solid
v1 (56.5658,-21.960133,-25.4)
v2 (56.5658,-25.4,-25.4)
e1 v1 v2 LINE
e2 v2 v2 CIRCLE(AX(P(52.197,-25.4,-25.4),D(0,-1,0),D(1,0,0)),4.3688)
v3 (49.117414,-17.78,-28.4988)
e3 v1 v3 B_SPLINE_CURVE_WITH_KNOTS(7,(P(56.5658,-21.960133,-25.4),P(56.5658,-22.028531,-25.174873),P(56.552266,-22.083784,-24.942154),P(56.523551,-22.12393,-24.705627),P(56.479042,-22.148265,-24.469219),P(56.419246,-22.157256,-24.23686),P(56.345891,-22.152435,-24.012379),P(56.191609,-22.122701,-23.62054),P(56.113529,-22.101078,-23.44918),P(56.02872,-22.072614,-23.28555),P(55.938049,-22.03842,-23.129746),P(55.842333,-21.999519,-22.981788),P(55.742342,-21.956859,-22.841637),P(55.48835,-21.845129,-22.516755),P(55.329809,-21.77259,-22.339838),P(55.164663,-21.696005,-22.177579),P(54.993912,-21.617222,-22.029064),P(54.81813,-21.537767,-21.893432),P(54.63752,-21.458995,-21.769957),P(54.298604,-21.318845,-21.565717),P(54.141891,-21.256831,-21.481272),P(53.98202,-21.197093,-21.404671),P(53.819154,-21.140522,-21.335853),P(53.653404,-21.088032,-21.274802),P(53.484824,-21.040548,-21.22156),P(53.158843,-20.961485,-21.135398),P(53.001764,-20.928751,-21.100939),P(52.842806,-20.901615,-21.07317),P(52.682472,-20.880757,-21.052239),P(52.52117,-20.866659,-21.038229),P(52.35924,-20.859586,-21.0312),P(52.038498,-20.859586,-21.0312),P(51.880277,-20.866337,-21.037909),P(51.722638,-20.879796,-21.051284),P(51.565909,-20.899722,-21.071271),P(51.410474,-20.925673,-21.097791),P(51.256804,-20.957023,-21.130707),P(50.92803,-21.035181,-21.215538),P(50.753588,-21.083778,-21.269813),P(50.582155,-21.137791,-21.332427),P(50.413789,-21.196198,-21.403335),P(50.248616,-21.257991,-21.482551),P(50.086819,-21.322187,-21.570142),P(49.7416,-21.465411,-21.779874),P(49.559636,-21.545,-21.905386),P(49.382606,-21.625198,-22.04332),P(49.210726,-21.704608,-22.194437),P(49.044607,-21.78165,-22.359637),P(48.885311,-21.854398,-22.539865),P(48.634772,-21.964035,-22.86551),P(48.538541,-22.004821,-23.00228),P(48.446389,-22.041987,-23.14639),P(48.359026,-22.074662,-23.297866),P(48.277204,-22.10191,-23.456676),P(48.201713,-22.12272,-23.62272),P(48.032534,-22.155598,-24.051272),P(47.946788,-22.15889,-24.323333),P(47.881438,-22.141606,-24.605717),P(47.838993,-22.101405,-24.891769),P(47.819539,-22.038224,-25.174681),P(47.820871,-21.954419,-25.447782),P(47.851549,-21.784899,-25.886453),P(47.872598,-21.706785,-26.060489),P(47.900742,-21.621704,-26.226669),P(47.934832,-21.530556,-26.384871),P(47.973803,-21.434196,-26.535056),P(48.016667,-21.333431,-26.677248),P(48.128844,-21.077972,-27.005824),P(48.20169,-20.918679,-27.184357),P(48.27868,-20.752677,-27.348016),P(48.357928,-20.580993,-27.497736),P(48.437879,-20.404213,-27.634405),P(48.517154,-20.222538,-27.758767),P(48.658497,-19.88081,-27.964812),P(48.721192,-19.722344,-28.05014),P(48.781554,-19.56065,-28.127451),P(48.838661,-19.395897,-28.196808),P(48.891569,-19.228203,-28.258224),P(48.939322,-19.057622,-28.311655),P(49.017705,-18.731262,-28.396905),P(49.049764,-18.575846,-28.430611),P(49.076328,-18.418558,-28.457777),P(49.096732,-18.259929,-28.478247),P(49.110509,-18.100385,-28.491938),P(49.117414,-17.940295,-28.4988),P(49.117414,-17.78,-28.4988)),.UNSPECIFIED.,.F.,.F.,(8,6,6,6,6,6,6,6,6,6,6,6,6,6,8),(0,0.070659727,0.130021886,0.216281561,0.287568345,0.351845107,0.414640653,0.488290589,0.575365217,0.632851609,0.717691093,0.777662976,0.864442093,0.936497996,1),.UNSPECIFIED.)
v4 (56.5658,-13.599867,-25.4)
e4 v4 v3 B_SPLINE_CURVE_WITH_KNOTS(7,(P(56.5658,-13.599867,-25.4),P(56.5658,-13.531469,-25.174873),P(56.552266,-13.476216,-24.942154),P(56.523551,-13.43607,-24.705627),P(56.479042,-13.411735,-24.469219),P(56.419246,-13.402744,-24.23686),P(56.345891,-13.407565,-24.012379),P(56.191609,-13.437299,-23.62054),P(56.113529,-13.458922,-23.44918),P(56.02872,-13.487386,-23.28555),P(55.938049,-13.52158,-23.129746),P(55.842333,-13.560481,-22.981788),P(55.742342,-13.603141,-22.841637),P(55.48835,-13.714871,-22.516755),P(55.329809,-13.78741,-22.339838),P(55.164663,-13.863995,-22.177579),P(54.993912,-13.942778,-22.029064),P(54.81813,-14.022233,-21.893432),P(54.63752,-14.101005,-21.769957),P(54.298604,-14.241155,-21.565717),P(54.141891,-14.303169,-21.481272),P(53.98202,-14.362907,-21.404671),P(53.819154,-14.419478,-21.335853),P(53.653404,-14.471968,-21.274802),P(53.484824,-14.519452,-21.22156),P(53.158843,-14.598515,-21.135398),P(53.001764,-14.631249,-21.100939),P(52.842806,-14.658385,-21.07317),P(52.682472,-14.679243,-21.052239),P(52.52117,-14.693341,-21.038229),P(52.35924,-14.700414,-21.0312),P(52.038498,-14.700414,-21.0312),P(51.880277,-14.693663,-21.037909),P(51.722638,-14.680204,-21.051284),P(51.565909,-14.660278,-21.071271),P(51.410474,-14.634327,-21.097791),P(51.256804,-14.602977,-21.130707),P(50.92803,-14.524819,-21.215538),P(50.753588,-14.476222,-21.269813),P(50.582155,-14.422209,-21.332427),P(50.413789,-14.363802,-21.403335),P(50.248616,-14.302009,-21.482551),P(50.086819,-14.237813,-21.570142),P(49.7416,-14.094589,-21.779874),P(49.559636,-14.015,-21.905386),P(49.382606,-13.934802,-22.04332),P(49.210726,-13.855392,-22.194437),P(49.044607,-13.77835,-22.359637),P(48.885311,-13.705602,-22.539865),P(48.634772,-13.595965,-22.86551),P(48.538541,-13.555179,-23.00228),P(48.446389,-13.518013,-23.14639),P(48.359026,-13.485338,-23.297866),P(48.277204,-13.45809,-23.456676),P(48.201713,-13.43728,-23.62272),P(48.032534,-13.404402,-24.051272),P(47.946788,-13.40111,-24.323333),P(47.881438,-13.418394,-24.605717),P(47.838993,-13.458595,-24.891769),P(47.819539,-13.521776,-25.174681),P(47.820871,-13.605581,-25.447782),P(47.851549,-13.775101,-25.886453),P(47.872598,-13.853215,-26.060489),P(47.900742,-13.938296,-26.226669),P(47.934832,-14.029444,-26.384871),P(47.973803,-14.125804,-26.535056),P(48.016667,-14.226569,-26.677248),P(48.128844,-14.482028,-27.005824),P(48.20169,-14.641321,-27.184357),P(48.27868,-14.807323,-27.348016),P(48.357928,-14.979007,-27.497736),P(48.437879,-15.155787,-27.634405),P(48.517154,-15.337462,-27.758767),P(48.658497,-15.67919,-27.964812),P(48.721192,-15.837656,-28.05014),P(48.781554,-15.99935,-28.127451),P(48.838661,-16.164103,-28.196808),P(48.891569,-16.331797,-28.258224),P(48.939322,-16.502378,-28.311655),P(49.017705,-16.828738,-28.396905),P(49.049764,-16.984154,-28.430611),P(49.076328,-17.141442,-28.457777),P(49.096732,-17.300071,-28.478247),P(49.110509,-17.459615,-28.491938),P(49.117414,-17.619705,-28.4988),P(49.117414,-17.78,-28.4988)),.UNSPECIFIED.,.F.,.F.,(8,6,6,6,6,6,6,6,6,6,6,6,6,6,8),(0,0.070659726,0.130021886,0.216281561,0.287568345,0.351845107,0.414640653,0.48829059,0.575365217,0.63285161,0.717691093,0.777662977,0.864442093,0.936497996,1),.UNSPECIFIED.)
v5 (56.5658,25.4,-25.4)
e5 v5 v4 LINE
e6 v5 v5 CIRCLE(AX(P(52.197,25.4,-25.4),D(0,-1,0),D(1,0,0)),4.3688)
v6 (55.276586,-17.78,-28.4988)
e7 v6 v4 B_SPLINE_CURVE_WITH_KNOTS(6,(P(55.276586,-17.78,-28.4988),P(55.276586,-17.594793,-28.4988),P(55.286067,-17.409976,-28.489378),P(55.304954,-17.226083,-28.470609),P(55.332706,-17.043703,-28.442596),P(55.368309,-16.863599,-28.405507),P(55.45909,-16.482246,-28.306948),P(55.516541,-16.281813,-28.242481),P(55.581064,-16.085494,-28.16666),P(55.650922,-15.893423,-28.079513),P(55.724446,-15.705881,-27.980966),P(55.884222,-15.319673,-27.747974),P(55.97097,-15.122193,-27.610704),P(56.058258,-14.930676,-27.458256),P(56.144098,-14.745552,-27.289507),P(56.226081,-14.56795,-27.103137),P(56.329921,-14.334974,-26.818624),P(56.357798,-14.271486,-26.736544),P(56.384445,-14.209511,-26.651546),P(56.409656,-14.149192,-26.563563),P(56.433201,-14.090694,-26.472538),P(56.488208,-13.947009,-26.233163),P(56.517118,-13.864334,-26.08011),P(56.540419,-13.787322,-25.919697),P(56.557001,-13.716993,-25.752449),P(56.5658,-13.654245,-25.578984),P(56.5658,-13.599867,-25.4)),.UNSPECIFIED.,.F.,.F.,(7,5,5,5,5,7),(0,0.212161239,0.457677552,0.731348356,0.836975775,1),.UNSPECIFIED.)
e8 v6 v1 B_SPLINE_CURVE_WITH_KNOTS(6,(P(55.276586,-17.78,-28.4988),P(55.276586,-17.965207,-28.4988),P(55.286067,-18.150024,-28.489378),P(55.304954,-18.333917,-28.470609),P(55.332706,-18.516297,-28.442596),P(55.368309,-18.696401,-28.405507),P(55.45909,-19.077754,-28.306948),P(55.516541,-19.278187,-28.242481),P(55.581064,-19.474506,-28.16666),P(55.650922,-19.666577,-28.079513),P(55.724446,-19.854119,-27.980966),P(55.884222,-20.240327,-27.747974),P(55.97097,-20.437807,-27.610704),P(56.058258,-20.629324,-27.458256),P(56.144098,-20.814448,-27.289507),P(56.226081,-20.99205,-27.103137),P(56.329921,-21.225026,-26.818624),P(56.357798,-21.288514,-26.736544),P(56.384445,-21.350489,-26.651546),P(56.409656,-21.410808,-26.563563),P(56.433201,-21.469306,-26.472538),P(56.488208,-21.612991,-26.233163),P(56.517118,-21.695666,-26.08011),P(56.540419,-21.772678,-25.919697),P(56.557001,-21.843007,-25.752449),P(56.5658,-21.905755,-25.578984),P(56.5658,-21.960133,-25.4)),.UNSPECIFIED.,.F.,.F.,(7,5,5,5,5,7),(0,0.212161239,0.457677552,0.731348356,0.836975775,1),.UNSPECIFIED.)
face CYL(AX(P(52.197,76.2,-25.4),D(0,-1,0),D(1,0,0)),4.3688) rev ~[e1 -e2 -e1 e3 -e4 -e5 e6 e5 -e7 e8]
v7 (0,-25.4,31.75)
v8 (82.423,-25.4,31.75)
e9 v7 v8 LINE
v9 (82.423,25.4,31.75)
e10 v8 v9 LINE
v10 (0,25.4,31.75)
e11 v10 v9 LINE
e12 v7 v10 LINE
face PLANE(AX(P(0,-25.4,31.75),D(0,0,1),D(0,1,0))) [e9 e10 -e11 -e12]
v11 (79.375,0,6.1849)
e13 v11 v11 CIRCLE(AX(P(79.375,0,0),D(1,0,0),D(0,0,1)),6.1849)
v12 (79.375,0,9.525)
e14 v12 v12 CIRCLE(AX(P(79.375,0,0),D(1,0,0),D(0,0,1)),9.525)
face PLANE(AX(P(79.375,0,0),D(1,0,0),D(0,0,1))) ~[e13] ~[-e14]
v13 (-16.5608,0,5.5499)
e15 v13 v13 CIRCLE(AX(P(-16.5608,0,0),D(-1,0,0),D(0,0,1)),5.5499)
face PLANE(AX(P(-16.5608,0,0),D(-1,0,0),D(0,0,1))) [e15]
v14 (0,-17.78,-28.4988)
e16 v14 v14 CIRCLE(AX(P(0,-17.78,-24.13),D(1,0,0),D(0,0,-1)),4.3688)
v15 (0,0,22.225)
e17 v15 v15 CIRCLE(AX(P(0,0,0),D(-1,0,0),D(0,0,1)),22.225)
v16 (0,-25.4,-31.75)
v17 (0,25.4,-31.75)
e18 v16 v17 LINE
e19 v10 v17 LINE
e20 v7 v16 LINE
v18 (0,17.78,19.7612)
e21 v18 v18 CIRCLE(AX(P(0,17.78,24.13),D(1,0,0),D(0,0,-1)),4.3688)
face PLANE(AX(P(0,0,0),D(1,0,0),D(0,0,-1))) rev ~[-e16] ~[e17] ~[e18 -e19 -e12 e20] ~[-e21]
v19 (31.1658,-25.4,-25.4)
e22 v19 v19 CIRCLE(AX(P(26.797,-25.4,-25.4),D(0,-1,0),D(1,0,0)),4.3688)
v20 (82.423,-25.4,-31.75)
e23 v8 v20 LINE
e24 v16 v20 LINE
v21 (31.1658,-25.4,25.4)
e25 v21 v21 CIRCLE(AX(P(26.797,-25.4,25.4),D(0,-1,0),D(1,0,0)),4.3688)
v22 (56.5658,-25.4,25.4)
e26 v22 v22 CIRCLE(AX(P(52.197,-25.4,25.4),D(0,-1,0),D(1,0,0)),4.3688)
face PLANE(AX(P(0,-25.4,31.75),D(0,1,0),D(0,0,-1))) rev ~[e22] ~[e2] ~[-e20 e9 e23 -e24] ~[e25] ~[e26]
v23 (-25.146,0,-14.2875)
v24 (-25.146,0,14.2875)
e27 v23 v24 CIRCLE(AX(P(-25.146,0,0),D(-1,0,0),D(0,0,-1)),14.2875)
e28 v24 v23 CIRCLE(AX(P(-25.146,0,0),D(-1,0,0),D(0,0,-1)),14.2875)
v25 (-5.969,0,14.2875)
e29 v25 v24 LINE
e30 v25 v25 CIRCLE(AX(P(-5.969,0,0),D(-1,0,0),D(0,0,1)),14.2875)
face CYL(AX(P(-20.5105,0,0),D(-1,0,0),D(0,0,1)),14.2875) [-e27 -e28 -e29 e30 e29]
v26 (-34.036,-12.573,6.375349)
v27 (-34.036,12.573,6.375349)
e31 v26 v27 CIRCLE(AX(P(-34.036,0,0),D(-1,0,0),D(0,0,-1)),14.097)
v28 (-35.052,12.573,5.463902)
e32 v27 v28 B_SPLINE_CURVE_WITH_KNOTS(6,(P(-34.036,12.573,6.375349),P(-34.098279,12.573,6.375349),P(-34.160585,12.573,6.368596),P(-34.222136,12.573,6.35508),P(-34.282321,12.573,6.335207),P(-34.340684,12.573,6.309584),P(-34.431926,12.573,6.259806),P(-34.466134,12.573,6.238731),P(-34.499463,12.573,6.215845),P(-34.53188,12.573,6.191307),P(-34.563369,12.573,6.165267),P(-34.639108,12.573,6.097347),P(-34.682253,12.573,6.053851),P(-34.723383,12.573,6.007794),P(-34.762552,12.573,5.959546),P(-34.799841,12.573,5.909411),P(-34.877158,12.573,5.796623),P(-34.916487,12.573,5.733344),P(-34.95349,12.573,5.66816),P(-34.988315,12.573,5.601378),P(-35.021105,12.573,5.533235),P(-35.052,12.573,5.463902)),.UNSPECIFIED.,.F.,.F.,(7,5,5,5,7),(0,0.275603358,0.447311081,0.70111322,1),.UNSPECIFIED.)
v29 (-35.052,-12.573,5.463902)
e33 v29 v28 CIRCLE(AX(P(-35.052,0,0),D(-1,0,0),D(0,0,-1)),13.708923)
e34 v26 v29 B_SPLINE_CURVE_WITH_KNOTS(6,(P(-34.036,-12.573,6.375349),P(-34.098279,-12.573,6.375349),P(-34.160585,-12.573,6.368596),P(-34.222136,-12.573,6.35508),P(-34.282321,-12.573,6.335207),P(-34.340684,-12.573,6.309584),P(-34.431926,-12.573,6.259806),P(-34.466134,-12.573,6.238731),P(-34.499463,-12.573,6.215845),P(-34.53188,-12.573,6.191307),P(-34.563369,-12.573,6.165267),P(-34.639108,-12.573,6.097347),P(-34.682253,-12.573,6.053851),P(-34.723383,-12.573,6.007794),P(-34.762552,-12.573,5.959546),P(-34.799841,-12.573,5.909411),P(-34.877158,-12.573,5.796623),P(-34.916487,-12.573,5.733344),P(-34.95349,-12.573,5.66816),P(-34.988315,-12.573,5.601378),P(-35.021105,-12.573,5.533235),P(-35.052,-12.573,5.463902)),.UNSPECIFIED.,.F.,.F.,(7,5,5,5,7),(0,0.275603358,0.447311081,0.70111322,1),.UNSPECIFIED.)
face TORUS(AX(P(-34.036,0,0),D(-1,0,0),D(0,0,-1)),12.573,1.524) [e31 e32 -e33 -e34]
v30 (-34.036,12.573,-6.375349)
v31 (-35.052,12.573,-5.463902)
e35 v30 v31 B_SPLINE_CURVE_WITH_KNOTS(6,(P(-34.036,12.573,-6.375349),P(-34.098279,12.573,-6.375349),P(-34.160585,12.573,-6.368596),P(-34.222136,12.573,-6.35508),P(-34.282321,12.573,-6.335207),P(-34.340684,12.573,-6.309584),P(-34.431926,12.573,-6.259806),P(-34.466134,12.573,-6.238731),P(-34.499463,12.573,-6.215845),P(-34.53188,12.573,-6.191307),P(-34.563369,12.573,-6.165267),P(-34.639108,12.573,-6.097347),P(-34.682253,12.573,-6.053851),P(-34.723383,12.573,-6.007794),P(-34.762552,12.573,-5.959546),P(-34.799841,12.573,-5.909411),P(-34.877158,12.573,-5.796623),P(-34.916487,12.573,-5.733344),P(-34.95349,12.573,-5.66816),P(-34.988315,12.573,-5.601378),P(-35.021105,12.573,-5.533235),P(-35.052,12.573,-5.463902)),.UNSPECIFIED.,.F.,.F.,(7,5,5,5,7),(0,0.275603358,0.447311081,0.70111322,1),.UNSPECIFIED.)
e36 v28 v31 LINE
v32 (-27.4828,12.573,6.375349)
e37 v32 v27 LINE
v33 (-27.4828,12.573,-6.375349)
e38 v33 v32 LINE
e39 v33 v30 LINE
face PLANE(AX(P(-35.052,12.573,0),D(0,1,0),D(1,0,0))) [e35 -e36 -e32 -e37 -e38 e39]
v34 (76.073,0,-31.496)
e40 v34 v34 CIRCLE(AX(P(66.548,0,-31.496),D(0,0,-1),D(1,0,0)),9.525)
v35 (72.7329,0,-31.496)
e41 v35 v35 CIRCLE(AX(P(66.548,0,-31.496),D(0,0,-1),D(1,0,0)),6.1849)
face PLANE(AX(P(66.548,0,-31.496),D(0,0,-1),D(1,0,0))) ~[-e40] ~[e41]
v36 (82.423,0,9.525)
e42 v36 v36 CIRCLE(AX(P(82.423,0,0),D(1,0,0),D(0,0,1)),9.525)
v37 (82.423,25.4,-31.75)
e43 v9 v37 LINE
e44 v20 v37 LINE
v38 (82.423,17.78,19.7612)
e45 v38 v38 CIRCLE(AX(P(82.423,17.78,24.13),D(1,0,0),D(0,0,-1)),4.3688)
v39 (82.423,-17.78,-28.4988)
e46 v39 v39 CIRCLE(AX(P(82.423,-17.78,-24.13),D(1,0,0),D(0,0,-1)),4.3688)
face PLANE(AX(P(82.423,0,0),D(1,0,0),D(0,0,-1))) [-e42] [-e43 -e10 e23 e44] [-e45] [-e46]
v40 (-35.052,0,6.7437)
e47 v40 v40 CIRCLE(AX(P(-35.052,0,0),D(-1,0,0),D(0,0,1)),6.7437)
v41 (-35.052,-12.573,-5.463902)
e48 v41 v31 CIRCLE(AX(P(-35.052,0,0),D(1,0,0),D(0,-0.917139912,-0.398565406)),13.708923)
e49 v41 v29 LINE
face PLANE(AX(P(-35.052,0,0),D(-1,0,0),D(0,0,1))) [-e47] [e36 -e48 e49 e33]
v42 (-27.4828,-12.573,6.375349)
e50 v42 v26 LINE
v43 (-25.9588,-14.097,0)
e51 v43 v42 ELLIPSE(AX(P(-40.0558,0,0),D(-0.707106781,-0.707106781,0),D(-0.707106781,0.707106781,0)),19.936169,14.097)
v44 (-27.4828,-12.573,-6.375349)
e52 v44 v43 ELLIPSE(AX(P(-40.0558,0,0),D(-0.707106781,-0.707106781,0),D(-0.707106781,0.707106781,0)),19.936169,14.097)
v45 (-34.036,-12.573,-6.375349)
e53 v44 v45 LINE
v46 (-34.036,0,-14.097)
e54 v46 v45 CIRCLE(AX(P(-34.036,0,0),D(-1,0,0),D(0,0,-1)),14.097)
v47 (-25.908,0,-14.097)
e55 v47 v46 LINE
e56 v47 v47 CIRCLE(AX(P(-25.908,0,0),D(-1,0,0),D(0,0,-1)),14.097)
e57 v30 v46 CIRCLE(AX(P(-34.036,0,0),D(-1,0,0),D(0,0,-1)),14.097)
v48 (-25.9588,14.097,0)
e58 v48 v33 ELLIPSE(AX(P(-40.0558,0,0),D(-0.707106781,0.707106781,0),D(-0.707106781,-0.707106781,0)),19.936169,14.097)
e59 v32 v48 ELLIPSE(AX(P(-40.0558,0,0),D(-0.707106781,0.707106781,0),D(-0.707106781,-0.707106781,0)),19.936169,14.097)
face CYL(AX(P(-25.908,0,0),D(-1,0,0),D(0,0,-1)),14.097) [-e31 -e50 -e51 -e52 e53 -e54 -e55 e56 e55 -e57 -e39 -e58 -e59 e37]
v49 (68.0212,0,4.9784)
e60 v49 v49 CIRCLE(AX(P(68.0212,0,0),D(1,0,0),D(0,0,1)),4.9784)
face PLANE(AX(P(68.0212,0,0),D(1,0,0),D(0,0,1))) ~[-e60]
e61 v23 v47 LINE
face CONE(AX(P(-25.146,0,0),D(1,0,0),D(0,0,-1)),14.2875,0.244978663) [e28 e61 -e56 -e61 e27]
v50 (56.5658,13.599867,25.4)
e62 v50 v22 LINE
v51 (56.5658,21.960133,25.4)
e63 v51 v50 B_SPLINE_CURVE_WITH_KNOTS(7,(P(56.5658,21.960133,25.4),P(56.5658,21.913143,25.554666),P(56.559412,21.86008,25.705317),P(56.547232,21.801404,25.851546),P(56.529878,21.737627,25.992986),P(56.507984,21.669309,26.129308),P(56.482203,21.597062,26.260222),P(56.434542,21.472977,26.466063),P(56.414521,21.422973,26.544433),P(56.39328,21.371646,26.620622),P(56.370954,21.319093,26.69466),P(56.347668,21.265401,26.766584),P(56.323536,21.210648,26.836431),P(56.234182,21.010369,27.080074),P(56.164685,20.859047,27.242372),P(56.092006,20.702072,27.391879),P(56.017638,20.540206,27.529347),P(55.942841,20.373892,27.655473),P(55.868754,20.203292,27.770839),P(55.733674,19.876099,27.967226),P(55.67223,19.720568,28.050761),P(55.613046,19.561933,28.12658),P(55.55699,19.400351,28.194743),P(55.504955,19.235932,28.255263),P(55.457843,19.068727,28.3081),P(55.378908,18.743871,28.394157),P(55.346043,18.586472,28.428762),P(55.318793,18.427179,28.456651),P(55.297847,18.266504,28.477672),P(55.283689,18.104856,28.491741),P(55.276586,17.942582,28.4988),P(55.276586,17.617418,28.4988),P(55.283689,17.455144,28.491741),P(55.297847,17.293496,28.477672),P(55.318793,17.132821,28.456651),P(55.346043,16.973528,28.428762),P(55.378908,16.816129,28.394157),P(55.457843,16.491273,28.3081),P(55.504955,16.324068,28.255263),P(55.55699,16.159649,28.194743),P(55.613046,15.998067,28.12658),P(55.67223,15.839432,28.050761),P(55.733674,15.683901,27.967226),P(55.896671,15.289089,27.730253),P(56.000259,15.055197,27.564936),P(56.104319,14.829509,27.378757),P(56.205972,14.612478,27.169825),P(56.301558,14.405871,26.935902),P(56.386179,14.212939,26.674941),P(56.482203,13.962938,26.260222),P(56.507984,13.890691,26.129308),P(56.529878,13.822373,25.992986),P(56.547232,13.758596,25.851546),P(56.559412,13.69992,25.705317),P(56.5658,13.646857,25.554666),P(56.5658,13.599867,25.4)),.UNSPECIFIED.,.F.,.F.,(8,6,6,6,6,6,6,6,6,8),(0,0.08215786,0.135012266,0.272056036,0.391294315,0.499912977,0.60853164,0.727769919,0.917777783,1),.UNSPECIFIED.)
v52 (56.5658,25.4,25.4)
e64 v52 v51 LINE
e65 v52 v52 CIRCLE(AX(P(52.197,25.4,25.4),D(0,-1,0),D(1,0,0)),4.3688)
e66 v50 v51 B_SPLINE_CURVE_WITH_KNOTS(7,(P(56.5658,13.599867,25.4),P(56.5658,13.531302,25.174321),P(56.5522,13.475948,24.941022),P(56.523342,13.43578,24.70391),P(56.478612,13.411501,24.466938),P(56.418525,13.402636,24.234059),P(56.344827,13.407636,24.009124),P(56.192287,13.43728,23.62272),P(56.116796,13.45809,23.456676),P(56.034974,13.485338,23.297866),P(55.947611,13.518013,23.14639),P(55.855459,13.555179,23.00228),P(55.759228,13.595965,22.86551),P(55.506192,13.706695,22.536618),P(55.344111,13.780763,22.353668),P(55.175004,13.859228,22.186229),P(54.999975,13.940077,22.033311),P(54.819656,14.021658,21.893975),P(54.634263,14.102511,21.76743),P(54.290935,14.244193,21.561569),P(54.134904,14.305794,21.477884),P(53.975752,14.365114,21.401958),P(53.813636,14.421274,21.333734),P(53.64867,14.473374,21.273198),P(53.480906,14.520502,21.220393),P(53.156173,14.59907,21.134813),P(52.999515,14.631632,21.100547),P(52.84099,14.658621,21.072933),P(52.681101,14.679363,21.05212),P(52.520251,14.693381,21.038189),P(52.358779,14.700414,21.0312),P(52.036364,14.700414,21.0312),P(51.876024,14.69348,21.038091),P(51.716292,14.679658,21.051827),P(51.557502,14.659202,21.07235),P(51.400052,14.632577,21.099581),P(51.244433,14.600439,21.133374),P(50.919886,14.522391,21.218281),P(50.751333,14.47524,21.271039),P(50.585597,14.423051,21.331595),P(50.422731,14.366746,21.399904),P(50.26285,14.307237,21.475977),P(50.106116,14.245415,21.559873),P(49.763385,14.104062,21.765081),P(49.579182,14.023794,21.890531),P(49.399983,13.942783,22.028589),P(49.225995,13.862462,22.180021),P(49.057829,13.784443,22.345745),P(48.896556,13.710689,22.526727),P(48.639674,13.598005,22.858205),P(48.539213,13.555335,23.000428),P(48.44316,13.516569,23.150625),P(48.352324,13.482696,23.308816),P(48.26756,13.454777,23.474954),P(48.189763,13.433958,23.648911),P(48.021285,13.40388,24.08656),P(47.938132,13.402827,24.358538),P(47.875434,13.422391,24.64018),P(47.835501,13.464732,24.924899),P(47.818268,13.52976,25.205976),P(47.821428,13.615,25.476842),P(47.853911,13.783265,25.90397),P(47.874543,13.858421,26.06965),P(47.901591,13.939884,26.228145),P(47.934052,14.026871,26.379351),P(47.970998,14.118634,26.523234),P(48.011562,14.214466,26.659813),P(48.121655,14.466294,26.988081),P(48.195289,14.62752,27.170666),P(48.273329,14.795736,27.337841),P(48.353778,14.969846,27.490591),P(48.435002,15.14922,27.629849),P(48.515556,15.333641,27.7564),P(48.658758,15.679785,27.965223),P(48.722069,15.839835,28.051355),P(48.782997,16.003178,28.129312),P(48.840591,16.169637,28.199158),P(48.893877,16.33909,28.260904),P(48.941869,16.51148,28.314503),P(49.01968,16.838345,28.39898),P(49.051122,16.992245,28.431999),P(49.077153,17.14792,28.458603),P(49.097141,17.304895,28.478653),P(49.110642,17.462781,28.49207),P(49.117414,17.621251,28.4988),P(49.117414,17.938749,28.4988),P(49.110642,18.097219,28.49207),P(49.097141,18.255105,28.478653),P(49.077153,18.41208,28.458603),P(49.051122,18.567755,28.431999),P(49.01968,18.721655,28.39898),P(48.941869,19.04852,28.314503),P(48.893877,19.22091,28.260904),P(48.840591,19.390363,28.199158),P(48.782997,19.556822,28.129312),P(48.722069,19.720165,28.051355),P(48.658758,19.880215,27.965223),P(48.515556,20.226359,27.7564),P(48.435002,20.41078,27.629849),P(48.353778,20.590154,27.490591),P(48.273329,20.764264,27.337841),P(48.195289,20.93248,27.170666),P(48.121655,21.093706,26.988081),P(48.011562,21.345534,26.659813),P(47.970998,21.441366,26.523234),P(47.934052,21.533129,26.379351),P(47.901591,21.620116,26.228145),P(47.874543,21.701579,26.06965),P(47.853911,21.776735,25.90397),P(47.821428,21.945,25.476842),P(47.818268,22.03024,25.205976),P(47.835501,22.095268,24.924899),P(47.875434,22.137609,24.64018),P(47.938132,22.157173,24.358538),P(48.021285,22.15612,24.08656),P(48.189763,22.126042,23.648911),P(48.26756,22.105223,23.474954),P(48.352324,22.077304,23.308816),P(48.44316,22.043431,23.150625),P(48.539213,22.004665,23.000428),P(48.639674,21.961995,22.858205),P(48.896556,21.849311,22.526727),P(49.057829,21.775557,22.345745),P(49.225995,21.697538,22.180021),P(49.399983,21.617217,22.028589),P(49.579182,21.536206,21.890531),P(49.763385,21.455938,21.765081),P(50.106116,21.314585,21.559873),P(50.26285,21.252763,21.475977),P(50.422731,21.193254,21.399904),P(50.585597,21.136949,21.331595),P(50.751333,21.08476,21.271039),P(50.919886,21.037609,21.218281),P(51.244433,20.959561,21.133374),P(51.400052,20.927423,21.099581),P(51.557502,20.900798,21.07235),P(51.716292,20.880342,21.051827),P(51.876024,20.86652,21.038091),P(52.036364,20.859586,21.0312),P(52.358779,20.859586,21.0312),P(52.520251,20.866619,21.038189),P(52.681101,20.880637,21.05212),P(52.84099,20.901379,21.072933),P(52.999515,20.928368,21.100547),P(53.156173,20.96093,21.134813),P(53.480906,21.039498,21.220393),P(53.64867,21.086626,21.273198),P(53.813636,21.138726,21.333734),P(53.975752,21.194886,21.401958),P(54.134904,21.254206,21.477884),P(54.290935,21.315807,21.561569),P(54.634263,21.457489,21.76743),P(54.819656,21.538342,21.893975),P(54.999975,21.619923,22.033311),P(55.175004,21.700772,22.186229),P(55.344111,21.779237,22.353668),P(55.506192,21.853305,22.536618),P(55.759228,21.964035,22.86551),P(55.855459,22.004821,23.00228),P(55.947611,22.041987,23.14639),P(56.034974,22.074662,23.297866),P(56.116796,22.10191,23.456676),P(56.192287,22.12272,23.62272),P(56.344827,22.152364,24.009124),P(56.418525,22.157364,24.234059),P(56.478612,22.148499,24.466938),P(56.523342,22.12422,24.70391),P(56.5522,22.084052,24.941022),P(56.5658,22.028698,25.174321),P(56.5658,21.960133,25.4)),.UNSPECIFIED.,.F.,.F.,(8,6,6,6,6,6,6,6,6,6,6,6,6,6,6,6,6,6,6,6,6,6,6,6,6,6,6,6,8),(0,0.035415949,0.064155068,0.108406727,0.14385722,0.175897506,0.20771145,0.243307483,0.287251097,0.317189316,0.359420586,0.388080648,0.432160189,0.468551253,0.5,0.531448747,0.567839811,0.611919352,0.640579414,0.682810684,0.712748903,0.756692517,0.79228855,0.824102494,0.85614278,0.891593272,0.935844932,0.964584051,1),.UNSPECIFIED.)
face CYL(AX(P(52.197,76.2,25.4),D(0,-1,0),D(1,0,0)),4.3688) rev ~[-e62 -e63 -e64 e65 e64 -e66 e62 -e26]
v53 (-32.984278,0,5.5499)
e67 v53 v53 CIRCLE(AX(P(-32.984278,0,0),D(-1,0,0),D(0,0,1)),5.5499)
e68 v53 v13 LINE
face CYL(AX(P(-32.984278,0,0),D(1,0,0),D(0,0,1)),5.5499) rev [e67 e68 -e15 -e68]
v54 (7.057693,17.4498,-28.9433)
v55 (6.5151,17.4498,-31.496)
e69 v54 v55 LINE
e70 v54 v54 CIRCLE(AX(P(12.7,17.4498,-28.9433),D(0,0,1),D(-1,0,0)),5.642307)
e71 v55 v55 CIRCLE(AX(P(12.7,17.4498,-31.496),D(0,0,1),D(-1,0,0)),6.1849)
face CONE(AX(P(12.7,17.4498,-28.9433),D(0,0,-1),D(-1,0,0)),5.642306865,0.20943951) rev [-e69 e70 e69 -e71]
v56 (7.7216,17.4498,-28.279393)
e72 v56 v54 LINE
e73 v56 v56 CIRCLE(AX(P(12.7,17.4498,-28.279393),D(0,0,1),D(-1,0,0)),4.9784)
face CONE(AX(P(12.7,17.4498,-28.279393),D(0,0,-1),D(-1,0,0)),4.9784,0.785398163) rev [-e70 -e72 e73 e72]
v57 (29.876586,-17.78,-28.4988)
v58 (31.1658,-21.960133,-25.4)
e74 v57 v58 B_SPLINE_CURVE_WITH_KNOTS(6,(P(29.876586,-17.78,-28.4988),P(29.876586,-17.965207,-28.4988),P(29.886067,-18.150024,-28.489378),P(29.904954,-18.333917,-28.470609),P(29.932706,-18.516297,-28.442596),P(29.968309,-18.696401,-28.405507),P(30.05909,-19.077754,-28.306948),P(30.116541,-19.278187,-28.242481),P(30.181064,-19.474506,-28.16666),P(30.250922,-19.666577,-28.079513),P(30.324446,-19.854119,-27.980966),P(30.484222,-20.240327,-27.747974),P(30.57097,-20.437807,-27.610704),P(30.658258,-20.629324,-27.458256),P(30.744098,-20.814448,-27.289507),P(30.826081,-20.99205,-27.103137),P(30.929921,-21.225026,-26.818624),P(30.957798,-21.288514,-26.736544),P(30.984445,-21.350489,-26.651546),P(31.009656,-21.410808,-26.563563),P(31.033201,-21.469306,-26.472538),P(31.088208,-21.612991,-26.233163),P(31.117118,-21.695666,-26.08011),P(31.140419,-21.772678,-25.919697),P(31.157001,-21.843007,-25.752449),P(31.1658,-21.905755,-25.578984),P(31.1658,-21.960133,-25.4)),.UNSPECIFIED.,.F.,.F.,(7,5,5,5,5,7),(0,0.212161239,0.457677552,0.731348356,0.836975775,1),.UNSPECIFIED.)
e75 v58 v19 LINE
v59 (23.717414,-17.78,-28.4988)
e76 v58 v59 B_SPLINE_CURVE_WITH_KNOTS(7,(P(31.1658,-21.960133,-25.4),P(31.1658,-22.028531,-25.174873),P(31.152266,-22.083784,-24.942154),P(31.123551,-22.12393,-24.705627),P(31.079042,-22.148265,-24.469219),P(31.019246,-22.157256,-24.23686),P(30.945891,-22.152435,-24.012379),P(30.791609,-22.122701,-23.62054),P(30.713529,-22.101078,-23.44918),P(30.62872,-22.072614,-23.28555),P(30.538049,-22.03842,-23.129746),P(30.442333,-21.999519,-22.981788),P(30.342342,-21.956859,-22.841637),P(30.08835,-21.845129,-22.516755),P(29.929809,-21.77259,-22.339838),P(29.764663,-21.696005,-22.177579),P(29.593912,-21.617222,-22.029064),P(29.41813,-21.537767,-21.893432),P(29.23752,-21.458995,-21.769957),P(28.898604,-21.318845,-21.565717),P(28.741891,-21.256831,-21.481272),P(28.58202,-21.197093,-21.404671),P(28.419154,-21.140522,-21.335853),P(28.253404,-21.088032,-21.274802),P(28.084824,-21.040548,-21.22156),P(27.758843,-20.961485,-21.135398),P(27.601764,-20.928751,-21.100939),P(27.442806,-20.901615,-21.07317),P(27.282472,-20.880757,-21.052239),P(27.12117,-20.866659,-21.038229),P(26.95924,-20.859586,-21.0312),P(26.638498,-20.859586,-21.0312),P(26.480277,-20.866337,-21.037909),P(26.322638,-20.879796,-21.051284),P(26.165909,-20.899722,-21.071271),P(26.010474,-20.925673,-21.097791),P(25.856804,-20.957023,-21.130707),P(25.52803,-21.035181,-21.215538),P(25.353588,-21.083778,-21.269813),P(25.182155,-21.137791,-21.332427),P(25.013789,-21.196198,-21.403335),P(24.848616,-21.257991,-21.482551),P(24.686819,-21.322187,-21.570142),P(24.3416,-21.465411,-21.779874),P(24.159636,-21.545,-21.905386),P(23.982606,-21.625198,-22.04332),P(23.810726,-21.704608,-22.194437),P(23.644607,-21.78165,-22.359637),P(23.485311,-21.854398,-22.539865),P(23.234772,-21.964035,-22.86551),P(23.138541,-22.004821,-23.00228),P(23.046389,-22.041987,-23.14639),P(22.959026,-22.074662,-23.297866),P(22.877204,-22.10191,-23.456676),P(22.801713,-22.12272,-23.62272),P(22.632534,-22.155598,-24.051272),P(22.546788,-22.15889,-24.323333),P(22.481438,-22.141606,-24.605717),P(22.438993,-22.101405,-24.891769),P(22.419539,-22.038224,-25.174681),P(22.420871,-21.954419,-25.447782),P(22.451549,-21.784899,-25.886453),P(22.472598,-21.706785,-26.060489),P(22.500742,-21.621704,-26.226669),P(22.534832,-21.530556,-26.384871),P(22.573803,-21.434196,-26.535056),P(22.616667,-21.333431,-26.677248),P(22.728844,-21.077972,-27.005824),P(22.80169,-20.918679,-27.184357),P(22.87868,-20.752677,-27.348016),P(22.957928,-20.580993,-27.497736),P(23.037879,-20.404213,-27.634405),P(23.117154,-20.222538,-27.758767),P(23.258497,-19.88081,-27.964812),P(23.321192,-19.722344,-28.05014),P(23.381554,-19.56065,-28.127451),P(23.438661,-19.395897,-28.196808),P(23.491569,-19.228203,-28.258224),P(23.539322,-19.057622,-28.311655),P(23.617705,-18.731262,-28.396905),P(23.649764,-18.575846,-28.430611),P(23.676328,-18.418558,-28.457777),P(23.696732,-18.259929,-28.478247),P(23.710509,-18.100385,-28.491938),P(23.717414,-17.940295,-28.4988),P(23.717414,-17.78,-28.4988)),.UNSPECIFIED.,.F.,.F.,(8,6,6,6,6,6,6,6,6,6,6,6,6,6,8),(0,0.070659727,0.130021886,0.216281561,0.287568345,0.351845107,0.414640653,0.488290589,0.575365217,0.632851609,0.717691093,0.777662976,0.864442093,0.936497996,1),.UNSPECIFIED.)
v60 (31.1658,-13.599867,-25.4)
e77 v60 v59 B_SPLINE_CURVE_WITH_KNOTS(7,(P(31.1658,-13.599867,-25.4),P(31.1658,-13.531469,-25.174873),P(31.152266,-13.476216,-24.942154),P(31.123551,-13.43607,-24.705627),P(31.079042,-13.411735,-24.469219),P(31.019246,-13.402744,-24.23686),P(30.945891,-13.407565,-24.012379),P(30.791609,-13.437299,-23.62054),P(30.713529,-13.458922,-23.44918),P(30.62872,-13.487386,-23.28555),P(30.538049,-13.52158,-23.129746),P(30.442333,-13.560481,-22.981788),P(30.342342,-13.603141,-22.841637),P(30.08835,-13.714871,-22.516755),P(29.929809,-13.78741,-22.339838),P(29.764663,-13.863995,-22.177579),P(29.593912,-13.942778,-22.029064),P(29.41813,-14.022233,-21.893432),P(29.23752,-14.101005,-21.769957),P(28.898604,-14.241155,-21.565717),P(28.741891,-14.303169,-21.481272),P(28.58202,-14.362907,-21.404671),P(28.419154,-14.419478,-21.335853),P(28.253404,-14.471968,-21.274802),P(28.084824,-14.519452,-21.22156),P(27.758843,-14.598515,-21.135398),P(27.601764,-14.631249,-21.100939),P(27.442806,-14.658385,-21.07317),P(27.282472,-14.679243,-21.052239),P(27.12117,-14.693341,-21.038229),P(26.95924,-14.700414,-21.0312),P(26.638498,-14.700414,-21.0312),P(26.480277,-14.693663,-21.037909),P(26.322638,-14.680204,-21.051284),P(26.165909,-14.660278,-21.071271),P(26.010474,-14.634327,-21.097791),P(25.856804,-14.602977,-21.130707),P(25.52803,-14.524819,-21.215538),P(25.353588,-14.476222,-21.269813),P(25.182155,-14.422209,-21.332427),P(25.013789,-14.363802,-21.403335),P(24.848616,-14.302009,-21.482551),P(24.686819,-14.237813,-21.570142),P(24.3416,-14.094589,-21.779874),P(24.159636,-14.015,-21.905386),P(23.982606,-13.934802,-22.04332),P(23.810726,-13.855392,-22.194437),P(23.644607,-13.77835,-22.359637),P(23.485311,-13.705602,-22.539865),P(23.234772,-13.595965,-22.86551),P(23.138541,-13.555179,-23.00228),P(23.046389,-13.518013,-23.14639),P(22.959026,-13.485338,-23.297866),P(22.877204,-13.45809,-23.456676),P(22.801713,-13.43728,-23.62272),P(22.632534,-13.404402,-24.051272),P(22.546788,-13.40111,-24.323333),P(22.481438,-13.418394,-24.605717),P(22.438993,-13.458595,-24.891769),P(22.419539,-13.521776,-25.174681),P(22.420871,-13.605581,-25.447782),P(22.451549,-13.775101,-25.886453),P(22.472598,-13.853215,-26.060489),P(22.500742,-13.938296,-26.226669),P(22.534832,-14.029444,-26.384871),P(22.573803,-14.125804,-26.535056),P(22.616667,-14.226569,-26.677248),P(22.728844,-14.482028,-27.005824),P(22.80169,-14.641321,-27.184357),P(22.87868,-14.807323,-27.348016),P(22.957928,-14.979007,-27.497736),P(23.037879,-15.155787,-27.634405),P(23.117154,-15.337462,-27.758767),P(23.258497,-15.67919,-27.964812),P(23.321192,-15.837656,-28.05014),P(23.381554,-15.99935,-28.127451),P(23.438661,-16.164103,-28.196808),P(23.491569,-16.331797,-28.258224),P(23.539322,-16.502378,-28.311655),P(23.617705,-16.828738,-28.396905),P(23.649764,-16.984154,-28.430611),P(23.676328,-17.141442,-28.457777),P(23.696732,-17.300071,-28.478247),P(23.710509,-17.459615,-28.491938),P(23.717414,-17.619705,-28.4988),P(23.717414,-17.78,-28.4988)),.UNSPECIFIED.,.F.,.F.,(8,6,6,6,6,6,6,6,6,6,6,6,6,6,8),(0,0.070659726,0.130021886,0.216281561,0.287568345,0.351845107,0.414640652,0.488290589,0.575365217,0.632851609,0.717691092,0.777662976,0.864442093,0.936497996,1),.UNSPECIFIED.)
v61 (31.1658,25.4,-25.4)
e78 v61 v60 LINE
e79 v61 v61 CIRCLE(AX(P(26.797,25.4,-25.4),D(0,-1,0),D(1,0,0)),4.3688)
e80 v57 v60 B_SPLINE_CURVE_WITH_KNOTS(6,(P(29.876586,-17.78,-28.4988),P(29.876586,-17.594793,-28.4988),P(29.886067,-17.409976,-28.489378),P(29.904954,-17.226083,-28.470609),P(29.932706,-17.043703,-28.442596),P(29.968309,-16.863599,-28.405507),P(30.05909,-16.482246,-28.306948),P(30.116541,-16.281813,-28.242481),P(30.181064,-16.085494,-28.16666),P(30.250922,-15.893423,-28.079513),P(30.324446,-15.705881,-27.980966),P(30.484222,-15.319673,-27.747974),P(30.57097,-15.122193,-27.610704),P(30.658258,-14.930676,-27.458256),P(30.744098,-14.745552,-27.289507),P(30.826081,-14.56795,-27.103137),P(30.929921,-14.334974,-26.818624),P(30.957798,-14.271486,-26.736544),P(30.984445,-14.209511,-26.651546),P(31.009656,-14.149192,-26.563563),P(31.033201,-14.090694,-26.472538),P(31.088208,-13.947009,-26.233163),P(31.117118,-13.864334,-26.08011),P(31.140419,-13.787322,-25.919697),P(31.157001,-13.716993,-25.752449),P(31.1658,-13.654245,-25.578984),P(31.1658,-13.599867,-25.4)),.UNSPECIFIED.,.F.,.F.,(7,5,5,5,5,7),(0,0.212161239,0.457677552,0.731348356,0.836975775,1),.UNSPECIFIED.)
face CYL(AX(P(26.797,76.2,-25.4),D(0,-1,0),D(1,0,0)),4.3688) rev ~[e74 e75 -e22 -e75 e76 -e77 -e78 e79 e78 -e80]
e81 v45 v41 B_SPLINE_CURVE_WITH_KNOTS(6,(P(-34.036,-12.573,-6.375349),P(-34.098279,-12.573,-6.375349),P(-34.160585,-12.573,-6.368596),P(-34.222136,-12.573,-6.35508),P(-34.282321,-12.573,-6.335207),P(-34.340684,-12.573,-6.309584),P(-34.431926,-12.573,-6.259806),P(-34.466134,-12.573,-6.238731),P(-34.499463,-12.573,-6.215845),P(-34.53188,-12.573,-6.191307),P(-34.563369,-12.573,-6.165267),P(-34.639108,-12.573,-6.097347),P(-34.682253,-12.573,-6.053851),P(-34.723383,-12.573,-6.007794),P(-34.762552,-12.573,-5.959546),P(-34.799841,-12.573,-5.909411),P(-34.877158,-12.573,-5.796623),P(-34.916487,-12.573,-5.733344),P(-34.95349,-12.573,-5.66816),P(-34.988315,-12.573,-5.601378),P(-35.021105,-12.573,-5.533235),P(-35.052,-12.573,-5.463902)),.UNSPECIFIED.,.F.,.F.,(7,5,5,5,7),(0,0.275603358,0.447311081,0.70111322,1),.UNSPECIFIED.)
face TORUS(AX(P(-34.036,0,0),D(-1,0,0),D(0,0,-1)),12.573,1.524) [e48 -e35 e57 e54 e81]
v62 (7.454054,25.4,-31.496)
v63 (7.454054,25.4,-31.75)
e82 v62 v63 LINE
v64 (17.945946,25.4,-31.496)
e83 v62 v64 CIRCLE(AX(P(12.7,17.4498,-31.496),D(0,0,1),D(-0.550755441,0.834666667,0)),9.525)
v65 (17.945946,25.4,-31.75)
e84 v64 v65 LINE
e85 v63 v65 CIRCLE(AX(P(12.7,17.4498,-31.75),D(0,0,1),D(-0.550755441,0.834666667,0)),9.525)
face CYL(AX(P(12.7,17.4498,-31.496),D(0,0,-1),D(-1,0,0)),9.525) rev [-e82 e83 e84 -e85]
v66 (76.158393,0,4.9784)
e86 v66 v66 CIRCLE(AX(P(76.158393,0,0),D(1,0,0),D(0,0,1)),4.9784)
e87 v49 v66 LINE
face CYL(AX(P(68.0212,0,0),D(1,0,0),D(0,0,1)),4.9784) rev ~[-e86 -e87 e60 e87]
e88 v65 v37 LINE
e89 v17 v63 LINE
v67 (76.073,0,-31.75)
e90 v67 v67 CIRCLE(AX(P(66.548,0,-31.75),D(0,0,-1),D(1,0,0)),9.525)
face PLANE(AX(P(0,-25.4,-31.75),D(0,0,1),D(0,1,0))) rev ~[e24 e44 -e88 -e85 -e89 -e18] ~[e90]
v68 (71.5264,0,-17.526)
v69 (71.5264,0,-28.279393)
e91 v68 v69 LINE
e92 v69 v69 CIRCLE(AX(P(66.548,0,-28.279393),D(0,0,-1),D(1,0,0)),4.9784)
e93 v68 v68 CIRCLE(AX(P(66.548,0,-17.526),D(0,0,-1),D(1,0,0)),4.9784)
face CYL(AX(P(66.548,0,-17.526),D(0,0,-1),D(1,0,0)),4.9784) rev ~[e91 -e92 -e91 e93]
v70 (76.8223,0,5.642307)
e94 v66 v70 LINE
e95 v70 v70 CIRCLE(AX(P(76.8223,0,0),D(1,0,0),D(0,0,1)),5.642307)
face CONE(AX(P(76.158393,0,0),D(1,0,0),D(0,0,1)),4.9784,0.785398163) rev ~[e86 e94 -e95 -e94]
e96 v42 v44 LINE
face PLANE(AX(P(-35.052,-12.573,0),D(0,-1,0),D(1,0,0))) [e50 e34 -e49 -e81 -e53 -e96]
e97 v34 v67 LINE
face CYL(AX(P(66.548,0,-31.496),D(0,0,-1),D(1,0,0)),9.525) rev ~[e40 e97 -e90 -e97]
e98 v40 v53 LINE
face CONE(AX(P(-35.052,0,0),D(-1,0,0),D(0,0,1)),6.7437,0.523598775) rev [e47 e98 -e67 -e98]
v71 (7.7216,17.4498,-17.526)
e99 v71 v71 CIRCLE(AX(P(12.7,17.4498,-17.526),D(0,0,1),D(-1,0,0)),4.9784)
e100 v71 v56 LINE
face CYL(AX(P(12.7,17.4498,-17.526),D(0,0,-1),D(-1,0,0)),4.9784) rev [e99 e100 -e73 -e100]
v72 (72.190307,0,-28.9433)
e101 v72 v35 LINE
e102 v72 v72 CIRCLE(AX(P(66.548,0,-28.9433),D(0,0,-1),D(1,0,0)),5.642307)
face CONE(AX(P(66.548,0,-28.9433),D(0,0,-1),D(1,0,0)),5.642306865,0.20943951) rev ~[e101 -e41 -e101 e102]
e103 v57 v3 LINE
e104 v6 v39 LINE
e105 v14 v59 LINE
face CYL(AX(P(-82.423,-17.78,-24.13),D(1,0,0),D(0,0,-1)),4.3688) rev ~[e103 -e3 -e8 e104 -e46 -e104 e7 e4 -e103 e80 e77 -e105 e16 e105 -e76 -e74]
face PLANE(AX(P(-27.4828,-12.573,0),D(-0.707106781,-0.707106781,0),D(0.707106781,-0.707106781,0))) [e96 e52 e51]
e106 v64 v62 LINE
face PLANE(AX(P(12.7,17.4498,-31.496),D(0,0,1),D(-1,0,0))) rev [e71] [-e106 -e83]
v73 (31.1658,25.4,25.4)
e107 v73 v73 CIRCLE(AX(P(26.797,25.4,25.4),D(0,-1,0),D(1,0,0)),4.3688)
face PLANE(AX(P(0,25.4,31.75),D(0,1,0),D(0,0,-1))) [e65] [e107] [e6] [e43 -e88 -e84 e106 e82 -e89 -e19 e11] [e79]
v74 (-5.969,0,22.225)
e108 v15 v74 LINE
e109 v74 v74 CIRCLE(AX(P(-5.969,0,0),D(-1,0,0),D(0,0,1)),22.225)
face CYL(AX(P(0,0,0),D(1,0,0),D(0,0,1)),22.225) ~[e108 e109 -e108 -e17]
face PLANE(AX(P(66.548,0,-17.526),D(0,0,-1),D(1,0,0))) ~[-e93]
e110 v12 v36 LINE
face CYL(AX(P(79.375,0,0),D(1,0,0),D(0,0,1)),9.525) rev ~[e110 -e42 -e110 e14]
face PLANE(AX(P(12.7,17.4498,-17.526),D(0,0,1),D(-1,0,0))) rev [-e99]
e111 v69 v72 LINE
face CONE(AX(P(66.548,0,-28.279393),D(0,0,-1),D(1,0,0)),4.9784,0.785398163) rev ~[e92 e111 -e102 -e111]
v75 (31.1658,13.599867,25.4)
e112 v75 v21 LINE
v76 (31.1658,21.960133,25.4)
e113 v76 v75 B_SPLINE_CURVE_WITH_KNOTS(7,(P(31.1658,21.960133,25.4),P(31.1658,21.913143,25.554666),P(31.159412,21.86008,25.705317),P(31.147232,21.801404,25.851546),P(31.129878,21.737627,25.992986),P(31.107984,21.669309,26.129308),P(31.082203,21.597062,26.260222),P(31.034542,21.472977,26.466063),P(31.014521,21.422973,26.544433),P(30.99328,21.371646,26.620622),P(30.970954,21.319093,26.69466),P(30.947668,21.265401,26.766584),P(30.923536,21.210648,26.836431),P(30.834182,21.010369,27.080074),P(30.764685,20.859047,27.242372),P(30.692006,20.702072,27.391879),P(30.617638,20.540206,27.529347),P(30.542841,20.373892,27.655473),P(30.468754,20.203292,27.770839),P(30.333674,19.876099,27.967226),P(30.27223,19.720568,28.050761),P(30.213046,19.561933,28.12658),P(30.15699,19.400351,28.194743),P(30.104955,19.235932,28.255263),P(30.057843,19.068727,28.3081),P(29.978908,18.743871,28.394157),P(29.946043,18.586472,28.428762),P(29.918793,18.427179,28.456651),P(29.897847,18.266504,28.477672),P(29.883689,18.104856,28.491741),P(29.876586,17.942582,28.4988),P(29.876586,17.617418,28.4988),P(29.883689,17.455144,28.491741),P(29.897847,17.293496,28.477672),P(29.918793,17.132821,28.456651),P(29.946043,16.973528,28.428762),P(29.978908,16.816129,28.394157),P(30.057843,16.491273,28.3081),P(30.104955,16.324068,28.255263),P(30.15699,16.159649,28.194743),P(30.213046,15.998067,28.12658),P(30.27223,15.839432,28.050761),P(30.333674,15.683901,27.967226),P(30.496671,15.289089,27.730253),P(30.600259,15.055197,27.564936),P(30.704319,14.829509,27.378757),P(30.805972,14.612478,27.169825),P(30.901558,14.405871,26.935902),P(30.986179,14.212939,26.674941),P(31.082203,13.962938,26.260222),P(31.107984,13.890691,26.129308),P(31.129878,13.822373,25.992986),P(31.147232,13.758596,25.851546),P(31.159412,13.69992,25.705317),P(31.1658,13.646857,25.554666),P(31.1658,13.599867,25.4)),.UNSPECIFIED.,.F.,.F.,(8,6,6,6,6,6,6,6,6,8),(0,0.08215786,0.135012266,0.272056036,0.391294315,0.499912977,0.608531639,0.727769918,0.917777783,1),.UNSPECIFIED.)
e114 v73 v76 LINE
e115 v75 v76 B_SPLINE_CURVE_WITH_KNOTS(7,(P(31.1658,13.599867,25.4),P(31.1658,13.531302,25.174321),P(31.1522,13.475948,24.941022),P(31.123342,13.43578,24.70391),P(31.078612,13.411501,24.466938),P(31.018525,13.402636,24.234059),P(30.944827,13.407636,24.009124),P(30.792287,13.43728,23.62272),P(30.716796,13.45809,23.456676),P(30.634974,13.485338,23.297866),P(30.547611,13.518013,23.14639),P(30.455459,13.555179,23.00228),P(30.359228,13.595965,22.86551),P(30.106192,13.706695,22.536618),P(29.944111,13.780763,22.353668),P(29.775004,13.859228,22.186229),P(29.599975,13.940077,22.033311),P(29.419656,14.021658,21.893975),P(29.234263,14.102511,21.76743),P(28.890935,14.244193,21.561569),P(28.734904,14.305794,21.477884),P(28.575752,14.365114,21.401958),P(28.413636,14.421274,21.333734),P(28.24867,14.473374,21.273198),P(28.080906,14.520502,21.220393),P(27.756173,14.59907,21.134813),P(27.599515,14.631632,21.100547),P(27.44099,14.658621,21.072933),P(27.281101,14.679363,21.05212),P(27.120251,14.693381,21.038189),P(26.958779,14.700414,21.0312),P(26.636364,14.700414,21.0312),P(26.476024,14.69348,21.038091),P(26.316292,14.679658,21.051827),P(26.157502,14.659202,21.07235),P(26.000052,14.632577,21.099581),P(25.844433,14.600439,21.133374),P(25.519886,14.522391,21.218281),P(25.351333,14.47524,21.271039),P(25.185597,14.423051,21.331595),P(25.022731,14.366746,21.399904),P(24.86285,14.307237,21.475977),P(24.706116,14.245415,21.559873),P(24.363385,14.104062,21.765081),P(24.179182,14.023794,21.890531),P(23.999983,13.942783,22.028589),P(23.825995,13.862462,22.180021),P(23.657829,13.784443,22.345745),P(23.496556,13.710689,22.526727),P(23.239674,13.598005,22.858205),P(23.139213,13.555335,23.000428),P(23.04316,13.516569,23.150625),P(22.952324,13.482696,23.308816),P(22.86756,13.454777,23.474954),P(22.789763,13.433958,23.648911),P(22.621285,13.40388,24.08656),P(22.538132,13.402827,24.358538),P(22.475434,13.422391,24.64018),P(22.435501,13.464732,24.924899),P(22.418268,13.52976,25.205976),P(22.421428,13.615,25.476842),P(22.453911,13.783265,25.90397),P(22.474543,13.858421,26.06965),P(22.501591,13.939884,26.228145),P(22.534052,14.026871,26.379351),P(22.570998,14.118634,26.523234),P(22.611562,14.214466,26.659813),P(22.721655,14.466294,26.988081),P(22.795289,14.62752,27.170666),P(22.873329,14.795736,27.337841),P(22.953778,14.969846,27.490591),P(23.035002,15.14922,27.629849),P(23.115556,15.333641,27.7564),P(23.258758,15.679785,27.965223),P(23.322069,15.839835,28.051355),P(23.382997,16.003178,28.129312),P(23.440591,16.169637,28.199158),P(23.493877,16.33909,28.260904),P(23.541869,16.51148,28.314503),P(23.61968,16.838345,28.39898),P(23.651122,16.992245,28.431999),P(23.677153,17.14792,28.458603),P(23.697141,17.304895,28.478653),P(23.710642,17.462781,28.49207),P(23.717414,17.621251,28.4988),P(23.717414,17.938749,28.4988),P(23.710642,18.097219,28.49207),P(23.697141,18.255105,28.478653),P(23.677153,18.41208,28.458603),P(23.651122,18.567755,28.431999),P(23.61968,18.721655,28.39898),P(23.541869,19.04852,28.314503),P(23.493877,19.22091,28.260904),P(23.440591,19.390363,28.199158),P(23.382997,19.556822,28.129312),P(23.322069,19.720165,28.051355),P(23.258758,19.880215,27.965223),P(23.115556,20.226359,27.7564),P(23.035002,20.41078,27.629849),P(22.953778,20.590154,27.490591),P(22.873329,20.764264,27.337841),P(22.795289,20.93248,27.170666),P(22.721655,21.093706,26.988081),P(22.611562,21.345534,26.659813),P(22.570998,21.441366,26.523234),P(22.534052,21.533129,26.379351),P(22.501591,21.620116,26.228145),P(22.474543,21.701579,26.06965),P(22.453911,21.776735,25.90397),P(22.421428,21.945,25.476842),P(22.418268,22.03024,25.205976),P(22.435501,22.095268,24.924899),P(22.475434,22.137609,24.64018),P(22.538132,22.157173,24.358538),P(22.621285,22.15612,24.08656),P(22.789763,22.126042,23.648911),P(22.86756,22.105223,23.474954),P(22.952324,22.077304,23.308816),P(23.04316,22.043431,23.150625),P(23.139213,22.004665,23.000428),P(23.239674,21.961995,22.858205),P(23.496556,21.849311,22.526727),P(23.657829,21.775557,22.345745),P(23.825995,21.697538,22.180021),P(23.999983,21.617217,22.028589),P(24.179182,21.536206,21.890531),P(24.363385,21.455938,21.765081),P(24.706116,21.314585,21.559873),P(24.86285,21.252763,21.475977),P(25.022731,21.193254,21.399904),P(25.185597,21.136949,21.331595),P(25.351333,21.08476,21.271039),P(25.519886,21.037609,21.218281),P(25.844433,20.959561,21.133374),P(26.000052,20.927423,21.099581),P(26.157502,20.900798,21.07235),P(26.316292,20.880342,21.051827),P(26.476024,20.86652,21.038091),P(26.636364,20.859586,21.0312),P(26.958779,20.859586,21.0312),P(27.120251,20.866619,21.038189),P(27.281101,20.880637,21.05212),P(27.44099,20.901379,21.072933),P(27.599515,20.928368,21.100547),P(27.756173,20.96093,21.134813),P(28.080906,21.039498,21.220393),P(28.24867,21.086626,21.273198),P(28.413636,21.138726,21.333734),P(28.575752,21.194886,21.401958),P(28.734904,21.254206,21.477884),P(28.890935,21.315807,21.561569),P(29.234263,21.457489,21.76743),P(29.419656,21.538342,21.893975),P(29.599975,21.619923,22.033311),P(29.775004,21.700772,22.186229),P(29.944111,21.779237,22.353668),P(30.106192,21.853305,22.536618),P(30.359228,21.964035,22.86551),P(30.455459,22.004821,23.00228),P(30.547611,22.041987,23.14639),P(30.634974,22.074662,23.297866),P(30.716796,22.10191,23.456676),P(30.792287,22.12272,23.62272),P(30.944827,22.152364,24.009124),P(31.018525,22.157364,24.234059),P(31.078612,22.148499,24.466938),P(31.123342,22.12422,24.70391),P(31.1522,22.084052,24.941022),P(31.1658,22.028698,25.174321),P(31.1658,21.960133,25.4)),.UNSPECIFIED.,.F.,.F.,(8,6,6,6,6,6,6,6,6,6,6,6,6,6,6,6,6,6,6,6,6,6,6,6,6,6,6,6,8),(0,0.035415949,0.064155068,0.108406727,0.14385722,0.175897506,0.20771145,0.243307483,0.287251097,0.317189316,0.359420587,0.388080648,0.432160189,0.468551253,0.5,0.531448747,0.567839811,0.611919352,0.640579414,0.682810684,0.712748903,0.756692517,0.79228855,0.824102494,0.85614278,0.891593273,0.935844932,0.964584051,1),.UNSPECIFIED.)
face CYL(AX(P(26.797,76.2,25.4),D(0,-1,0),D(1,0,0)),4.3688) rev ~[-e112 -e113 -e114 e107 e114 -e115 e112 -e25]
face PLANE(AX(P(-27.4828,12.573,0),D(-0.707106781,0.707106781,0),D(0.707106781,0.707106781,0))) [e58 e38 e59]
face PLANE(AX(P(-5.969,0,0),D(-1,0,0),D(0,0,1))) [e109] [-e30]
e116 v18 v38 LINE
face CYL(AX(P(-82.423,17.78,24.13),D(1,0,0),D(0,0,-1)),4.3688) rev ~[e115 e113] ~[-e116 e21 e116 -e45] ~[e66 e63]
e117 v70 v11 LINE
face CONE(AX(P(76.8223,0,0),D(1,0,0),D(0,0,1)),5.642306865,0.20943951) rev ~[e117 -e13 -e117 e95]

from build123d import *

# Parameters (mm, degrees)
SKETCH1_W          = 63.5
SKETCH1_H          = 50.8
EXTRUDE1_DEPTH     = 82.423
SKETCH5_R          = 22.225
EXTRUDE2_DEPTH     = 5.969
SKETCH6_W          = 14.2875
SKETCH6_H          = 29.083
CUT_EXTRUDE4_DEPTH = 30.48
HOLE1_D            = 8.7376
HOLE1_DEPTH        = 82.423
HOLE2_D            = 8.7376
HOLE2_DEPTH        = 50.8
LPATTERN1_COUNT    = 2
LPATTERN1_PITCH    = 25.4


with BuildPart() as part:
    # Sketch1 → Extrude1 (new body)
    with BuildSketch(Plane(origin=(0, 0, 0), x_dir=(0, 0, -1), z_dir=(1, 0, 0))):
        Rectangle(SKETCH1_W, SKETCH1_H)
    extrude(amount=EXTRUDE1_DEPTH)

    # S2D0002 → Cut-Revolve1 (revolve, cut)
    with BuildSketch(Plane(origin=(0, 17.4498, 0), x_dir=(-1, 0, 0), z_dir=(0, 1, 0)), mode=Mode.PRIVATE) as cut_revolve1_sk:
        Polygon((-18.8849, -31.496), (-22.225, -31.496), (-22.225, -31.75), (-12.7, -31.75), (-12.7, -17.526), (-17.6784, -17.526), (-17.6784, -28.279393135), (-18.342306865, -28.9433), align=None)
    revolve(cut_revolve1_sk.sketch.rotate(Axis((12.7, 17.4498, -19.13842003), (0, 0, 1)), 180), axis=Axis((12.7, 17.4498, -19.13842003), (0, 0, 1)), mode=Mode.SUBTRACT)  # turned: the seam where the file's is

    # Sketch3 → Cut-Revolve2 (revolve, cut)
    with BuildSketch(Plane(origin=(41.148, 0, -25.146), x_dir=(1, 0, 0), z_dir=(0, 1, 0))):
        Polygon((31.5849, 6.35), (34.925, 6.35), (34.925, 6.604), (25.4, 6.604), (25.4, -7.62), (30.3784, -7.62), (30.3784, 3.133393135), (31.042306865, 3.7973), align=None)
    revolve(axis=Axis((66.548, 0, -3.189624441), (0, 0, -1)), mode=Mode.SUBTRACT)

    # Sketch4 → Cut-Revolve3 (revolve, cut)
    with BuildSketch(Plane(origin=(53.975, 0, 0), x_dir=(0, -1, 0), z_dir=(0, 0, 1)), mode=Mode.PRIVATE) as cut_revolve3_sk:
        Polygon((6.1849, 25.4), (9.525, 25.4), (9.525, 28.448), (0, 28.448), (0, 14.0462), (4.9784, 14.0462), (4.9784, 22.183393135), (5.642306865, 22.8473), align=None)
    revolve(cut_revolve3_sk.sketch.rotate(Axis((38.879609832, 0, 0), (1, 0, 0)), 270), axis=Axis((38.879609832, 0, 0), (1, 0, 0)), mode=Mode.SUBTRACT)  # turned: the seam where the file's is

    # Sketch5 → Extrude2 (add)
    with BuildSketch(Plane.ZY):
        Circle(SKETCH5_R)
    extrude(amount=EXTRUDE2_DEPTH)

    # Sketch6 → Revolve1 (revolve)
    with BuildSketch(Plane(origin=(0, 0, 0), x_dir=(0, 0, 1), z_dir=(0, -1, 0)), mode=Mode.PRIVATE) as revolve1_sk:
        with Locations((-7.14375, 20.5105)):
            Rectangle(SKETCH6_W, SKETCH6_H)
    revolve(revolve1_sk.sketch.rotate(Axis((5.754582971, 0, 0), (-1, 0, 0)), 180), axis=Axis((5.754582971, 0, 0), (-1, 0, 0)))  # turned: the seam where the file's is

    # S2D0001 → Cut-Revolve4 (revolve, cut)
    with BuildSketch(Plane(origin=(-18.511260017, 3.2639, 0), x_dir=(0, 1, 0), z_dir=(0, 0, 1)), mode=Mode.PRIVATE) as cut_revolve4_sk:
        Polygon((2.286, 14.473017728), (2.286, -1.950460017), (-3.2639, -1.950460017), (-3.2639, 16.540739983), (3.4798, 16.540739983), align=None)
    revolve(cut_revolve4_sk.sketch.rotate(Axis((0, 0, 0), (-1, 0, 0)), 270), axis=Axis((0, 0, 0), (-1, 0, 0)), mode=Mode.SUBTRACT)  # turned: the seam where the file's is

    # Sketch8 → Cut-Revolve5 (revolve, cut)
    with BuildSketch(Plane(origin=(0, 0, 0), x_dir=(0, 0, -1), z_dir=(0, 1, 0)), mode=Mode.PRIVATE) as cut_revolve5_sk:
        with BuildLine():
            Line((-14.2875, 25.146), (-14.097, 25.908))
            Line((-14.097, 25.908), (-14.097, 34.036))
            ThreePointArc((-14.097, 34.036), (-13.996678675, 34.579796865), (-13.708922533, 35.052))
            Line((-13.708922533, 35.052), (-14.2875, 35.052))
            Line((-14.2875, 35.052), (-14.2875, 25.146))
        make_face()
    revolve(cut_revolve5_sk.sketch.rotate(Axis((-12.65936, 0, 0), (-1, 0, 0)), 180), axis=Axis((-12.65936, 0, 0), (-1, 0, 0)), mode=Mode.SUBTRACT)  # turned: the seam where the file's is

    # Sketch12 → Cut-Extrude4 (cut, symmetric)
    with BuildSketch(Plane(origin=(0, 0, 0), x_dir=(0, -1, 0), z_dir=(0, 0, -1))):
        Polygon((12.573, 35.052), (12.573, 27.4828), (14.097, 25.9588), (14.097, 35.052), align=None)
        Polygon((-12.573, 35.052), (-12.573, 27.4828), (-14.097, 25.9588), (-14.097, 35.052), align=None)
    extrude(amount=CUT_EXTRUDE4_DEPTH, both=True, mode=Mode.SUBTRACT)

    # Hole1
    with Locations(Plane.ZY):
        with Locations((-24.13, -17.78), (24.13, 17.78)):
            Hole(HOLE1_D / 2, depth=HOLE1_DEPTH)

    # Hole2
    with Locations(Plane(origin=(0, 25.4, 0), x_dir=(-1, 0, 0), z_dir=(0, 1, 0))):
        with Locations((-26.797, -25.4), (-26.797, 25.4)):
            hole2 = Hole(HOLE2_D / 2, depth=HOLE2_DEPTH)

    # LPattern1: Hole2 ×2
    with Locations(*[(i * LPATTERN1_PITCH, 0, 0) for i in range(1, LPATTERN1_COUNT)]):
        add(hole2, mode=Mode.SUBTRACT)


solid = part.part
